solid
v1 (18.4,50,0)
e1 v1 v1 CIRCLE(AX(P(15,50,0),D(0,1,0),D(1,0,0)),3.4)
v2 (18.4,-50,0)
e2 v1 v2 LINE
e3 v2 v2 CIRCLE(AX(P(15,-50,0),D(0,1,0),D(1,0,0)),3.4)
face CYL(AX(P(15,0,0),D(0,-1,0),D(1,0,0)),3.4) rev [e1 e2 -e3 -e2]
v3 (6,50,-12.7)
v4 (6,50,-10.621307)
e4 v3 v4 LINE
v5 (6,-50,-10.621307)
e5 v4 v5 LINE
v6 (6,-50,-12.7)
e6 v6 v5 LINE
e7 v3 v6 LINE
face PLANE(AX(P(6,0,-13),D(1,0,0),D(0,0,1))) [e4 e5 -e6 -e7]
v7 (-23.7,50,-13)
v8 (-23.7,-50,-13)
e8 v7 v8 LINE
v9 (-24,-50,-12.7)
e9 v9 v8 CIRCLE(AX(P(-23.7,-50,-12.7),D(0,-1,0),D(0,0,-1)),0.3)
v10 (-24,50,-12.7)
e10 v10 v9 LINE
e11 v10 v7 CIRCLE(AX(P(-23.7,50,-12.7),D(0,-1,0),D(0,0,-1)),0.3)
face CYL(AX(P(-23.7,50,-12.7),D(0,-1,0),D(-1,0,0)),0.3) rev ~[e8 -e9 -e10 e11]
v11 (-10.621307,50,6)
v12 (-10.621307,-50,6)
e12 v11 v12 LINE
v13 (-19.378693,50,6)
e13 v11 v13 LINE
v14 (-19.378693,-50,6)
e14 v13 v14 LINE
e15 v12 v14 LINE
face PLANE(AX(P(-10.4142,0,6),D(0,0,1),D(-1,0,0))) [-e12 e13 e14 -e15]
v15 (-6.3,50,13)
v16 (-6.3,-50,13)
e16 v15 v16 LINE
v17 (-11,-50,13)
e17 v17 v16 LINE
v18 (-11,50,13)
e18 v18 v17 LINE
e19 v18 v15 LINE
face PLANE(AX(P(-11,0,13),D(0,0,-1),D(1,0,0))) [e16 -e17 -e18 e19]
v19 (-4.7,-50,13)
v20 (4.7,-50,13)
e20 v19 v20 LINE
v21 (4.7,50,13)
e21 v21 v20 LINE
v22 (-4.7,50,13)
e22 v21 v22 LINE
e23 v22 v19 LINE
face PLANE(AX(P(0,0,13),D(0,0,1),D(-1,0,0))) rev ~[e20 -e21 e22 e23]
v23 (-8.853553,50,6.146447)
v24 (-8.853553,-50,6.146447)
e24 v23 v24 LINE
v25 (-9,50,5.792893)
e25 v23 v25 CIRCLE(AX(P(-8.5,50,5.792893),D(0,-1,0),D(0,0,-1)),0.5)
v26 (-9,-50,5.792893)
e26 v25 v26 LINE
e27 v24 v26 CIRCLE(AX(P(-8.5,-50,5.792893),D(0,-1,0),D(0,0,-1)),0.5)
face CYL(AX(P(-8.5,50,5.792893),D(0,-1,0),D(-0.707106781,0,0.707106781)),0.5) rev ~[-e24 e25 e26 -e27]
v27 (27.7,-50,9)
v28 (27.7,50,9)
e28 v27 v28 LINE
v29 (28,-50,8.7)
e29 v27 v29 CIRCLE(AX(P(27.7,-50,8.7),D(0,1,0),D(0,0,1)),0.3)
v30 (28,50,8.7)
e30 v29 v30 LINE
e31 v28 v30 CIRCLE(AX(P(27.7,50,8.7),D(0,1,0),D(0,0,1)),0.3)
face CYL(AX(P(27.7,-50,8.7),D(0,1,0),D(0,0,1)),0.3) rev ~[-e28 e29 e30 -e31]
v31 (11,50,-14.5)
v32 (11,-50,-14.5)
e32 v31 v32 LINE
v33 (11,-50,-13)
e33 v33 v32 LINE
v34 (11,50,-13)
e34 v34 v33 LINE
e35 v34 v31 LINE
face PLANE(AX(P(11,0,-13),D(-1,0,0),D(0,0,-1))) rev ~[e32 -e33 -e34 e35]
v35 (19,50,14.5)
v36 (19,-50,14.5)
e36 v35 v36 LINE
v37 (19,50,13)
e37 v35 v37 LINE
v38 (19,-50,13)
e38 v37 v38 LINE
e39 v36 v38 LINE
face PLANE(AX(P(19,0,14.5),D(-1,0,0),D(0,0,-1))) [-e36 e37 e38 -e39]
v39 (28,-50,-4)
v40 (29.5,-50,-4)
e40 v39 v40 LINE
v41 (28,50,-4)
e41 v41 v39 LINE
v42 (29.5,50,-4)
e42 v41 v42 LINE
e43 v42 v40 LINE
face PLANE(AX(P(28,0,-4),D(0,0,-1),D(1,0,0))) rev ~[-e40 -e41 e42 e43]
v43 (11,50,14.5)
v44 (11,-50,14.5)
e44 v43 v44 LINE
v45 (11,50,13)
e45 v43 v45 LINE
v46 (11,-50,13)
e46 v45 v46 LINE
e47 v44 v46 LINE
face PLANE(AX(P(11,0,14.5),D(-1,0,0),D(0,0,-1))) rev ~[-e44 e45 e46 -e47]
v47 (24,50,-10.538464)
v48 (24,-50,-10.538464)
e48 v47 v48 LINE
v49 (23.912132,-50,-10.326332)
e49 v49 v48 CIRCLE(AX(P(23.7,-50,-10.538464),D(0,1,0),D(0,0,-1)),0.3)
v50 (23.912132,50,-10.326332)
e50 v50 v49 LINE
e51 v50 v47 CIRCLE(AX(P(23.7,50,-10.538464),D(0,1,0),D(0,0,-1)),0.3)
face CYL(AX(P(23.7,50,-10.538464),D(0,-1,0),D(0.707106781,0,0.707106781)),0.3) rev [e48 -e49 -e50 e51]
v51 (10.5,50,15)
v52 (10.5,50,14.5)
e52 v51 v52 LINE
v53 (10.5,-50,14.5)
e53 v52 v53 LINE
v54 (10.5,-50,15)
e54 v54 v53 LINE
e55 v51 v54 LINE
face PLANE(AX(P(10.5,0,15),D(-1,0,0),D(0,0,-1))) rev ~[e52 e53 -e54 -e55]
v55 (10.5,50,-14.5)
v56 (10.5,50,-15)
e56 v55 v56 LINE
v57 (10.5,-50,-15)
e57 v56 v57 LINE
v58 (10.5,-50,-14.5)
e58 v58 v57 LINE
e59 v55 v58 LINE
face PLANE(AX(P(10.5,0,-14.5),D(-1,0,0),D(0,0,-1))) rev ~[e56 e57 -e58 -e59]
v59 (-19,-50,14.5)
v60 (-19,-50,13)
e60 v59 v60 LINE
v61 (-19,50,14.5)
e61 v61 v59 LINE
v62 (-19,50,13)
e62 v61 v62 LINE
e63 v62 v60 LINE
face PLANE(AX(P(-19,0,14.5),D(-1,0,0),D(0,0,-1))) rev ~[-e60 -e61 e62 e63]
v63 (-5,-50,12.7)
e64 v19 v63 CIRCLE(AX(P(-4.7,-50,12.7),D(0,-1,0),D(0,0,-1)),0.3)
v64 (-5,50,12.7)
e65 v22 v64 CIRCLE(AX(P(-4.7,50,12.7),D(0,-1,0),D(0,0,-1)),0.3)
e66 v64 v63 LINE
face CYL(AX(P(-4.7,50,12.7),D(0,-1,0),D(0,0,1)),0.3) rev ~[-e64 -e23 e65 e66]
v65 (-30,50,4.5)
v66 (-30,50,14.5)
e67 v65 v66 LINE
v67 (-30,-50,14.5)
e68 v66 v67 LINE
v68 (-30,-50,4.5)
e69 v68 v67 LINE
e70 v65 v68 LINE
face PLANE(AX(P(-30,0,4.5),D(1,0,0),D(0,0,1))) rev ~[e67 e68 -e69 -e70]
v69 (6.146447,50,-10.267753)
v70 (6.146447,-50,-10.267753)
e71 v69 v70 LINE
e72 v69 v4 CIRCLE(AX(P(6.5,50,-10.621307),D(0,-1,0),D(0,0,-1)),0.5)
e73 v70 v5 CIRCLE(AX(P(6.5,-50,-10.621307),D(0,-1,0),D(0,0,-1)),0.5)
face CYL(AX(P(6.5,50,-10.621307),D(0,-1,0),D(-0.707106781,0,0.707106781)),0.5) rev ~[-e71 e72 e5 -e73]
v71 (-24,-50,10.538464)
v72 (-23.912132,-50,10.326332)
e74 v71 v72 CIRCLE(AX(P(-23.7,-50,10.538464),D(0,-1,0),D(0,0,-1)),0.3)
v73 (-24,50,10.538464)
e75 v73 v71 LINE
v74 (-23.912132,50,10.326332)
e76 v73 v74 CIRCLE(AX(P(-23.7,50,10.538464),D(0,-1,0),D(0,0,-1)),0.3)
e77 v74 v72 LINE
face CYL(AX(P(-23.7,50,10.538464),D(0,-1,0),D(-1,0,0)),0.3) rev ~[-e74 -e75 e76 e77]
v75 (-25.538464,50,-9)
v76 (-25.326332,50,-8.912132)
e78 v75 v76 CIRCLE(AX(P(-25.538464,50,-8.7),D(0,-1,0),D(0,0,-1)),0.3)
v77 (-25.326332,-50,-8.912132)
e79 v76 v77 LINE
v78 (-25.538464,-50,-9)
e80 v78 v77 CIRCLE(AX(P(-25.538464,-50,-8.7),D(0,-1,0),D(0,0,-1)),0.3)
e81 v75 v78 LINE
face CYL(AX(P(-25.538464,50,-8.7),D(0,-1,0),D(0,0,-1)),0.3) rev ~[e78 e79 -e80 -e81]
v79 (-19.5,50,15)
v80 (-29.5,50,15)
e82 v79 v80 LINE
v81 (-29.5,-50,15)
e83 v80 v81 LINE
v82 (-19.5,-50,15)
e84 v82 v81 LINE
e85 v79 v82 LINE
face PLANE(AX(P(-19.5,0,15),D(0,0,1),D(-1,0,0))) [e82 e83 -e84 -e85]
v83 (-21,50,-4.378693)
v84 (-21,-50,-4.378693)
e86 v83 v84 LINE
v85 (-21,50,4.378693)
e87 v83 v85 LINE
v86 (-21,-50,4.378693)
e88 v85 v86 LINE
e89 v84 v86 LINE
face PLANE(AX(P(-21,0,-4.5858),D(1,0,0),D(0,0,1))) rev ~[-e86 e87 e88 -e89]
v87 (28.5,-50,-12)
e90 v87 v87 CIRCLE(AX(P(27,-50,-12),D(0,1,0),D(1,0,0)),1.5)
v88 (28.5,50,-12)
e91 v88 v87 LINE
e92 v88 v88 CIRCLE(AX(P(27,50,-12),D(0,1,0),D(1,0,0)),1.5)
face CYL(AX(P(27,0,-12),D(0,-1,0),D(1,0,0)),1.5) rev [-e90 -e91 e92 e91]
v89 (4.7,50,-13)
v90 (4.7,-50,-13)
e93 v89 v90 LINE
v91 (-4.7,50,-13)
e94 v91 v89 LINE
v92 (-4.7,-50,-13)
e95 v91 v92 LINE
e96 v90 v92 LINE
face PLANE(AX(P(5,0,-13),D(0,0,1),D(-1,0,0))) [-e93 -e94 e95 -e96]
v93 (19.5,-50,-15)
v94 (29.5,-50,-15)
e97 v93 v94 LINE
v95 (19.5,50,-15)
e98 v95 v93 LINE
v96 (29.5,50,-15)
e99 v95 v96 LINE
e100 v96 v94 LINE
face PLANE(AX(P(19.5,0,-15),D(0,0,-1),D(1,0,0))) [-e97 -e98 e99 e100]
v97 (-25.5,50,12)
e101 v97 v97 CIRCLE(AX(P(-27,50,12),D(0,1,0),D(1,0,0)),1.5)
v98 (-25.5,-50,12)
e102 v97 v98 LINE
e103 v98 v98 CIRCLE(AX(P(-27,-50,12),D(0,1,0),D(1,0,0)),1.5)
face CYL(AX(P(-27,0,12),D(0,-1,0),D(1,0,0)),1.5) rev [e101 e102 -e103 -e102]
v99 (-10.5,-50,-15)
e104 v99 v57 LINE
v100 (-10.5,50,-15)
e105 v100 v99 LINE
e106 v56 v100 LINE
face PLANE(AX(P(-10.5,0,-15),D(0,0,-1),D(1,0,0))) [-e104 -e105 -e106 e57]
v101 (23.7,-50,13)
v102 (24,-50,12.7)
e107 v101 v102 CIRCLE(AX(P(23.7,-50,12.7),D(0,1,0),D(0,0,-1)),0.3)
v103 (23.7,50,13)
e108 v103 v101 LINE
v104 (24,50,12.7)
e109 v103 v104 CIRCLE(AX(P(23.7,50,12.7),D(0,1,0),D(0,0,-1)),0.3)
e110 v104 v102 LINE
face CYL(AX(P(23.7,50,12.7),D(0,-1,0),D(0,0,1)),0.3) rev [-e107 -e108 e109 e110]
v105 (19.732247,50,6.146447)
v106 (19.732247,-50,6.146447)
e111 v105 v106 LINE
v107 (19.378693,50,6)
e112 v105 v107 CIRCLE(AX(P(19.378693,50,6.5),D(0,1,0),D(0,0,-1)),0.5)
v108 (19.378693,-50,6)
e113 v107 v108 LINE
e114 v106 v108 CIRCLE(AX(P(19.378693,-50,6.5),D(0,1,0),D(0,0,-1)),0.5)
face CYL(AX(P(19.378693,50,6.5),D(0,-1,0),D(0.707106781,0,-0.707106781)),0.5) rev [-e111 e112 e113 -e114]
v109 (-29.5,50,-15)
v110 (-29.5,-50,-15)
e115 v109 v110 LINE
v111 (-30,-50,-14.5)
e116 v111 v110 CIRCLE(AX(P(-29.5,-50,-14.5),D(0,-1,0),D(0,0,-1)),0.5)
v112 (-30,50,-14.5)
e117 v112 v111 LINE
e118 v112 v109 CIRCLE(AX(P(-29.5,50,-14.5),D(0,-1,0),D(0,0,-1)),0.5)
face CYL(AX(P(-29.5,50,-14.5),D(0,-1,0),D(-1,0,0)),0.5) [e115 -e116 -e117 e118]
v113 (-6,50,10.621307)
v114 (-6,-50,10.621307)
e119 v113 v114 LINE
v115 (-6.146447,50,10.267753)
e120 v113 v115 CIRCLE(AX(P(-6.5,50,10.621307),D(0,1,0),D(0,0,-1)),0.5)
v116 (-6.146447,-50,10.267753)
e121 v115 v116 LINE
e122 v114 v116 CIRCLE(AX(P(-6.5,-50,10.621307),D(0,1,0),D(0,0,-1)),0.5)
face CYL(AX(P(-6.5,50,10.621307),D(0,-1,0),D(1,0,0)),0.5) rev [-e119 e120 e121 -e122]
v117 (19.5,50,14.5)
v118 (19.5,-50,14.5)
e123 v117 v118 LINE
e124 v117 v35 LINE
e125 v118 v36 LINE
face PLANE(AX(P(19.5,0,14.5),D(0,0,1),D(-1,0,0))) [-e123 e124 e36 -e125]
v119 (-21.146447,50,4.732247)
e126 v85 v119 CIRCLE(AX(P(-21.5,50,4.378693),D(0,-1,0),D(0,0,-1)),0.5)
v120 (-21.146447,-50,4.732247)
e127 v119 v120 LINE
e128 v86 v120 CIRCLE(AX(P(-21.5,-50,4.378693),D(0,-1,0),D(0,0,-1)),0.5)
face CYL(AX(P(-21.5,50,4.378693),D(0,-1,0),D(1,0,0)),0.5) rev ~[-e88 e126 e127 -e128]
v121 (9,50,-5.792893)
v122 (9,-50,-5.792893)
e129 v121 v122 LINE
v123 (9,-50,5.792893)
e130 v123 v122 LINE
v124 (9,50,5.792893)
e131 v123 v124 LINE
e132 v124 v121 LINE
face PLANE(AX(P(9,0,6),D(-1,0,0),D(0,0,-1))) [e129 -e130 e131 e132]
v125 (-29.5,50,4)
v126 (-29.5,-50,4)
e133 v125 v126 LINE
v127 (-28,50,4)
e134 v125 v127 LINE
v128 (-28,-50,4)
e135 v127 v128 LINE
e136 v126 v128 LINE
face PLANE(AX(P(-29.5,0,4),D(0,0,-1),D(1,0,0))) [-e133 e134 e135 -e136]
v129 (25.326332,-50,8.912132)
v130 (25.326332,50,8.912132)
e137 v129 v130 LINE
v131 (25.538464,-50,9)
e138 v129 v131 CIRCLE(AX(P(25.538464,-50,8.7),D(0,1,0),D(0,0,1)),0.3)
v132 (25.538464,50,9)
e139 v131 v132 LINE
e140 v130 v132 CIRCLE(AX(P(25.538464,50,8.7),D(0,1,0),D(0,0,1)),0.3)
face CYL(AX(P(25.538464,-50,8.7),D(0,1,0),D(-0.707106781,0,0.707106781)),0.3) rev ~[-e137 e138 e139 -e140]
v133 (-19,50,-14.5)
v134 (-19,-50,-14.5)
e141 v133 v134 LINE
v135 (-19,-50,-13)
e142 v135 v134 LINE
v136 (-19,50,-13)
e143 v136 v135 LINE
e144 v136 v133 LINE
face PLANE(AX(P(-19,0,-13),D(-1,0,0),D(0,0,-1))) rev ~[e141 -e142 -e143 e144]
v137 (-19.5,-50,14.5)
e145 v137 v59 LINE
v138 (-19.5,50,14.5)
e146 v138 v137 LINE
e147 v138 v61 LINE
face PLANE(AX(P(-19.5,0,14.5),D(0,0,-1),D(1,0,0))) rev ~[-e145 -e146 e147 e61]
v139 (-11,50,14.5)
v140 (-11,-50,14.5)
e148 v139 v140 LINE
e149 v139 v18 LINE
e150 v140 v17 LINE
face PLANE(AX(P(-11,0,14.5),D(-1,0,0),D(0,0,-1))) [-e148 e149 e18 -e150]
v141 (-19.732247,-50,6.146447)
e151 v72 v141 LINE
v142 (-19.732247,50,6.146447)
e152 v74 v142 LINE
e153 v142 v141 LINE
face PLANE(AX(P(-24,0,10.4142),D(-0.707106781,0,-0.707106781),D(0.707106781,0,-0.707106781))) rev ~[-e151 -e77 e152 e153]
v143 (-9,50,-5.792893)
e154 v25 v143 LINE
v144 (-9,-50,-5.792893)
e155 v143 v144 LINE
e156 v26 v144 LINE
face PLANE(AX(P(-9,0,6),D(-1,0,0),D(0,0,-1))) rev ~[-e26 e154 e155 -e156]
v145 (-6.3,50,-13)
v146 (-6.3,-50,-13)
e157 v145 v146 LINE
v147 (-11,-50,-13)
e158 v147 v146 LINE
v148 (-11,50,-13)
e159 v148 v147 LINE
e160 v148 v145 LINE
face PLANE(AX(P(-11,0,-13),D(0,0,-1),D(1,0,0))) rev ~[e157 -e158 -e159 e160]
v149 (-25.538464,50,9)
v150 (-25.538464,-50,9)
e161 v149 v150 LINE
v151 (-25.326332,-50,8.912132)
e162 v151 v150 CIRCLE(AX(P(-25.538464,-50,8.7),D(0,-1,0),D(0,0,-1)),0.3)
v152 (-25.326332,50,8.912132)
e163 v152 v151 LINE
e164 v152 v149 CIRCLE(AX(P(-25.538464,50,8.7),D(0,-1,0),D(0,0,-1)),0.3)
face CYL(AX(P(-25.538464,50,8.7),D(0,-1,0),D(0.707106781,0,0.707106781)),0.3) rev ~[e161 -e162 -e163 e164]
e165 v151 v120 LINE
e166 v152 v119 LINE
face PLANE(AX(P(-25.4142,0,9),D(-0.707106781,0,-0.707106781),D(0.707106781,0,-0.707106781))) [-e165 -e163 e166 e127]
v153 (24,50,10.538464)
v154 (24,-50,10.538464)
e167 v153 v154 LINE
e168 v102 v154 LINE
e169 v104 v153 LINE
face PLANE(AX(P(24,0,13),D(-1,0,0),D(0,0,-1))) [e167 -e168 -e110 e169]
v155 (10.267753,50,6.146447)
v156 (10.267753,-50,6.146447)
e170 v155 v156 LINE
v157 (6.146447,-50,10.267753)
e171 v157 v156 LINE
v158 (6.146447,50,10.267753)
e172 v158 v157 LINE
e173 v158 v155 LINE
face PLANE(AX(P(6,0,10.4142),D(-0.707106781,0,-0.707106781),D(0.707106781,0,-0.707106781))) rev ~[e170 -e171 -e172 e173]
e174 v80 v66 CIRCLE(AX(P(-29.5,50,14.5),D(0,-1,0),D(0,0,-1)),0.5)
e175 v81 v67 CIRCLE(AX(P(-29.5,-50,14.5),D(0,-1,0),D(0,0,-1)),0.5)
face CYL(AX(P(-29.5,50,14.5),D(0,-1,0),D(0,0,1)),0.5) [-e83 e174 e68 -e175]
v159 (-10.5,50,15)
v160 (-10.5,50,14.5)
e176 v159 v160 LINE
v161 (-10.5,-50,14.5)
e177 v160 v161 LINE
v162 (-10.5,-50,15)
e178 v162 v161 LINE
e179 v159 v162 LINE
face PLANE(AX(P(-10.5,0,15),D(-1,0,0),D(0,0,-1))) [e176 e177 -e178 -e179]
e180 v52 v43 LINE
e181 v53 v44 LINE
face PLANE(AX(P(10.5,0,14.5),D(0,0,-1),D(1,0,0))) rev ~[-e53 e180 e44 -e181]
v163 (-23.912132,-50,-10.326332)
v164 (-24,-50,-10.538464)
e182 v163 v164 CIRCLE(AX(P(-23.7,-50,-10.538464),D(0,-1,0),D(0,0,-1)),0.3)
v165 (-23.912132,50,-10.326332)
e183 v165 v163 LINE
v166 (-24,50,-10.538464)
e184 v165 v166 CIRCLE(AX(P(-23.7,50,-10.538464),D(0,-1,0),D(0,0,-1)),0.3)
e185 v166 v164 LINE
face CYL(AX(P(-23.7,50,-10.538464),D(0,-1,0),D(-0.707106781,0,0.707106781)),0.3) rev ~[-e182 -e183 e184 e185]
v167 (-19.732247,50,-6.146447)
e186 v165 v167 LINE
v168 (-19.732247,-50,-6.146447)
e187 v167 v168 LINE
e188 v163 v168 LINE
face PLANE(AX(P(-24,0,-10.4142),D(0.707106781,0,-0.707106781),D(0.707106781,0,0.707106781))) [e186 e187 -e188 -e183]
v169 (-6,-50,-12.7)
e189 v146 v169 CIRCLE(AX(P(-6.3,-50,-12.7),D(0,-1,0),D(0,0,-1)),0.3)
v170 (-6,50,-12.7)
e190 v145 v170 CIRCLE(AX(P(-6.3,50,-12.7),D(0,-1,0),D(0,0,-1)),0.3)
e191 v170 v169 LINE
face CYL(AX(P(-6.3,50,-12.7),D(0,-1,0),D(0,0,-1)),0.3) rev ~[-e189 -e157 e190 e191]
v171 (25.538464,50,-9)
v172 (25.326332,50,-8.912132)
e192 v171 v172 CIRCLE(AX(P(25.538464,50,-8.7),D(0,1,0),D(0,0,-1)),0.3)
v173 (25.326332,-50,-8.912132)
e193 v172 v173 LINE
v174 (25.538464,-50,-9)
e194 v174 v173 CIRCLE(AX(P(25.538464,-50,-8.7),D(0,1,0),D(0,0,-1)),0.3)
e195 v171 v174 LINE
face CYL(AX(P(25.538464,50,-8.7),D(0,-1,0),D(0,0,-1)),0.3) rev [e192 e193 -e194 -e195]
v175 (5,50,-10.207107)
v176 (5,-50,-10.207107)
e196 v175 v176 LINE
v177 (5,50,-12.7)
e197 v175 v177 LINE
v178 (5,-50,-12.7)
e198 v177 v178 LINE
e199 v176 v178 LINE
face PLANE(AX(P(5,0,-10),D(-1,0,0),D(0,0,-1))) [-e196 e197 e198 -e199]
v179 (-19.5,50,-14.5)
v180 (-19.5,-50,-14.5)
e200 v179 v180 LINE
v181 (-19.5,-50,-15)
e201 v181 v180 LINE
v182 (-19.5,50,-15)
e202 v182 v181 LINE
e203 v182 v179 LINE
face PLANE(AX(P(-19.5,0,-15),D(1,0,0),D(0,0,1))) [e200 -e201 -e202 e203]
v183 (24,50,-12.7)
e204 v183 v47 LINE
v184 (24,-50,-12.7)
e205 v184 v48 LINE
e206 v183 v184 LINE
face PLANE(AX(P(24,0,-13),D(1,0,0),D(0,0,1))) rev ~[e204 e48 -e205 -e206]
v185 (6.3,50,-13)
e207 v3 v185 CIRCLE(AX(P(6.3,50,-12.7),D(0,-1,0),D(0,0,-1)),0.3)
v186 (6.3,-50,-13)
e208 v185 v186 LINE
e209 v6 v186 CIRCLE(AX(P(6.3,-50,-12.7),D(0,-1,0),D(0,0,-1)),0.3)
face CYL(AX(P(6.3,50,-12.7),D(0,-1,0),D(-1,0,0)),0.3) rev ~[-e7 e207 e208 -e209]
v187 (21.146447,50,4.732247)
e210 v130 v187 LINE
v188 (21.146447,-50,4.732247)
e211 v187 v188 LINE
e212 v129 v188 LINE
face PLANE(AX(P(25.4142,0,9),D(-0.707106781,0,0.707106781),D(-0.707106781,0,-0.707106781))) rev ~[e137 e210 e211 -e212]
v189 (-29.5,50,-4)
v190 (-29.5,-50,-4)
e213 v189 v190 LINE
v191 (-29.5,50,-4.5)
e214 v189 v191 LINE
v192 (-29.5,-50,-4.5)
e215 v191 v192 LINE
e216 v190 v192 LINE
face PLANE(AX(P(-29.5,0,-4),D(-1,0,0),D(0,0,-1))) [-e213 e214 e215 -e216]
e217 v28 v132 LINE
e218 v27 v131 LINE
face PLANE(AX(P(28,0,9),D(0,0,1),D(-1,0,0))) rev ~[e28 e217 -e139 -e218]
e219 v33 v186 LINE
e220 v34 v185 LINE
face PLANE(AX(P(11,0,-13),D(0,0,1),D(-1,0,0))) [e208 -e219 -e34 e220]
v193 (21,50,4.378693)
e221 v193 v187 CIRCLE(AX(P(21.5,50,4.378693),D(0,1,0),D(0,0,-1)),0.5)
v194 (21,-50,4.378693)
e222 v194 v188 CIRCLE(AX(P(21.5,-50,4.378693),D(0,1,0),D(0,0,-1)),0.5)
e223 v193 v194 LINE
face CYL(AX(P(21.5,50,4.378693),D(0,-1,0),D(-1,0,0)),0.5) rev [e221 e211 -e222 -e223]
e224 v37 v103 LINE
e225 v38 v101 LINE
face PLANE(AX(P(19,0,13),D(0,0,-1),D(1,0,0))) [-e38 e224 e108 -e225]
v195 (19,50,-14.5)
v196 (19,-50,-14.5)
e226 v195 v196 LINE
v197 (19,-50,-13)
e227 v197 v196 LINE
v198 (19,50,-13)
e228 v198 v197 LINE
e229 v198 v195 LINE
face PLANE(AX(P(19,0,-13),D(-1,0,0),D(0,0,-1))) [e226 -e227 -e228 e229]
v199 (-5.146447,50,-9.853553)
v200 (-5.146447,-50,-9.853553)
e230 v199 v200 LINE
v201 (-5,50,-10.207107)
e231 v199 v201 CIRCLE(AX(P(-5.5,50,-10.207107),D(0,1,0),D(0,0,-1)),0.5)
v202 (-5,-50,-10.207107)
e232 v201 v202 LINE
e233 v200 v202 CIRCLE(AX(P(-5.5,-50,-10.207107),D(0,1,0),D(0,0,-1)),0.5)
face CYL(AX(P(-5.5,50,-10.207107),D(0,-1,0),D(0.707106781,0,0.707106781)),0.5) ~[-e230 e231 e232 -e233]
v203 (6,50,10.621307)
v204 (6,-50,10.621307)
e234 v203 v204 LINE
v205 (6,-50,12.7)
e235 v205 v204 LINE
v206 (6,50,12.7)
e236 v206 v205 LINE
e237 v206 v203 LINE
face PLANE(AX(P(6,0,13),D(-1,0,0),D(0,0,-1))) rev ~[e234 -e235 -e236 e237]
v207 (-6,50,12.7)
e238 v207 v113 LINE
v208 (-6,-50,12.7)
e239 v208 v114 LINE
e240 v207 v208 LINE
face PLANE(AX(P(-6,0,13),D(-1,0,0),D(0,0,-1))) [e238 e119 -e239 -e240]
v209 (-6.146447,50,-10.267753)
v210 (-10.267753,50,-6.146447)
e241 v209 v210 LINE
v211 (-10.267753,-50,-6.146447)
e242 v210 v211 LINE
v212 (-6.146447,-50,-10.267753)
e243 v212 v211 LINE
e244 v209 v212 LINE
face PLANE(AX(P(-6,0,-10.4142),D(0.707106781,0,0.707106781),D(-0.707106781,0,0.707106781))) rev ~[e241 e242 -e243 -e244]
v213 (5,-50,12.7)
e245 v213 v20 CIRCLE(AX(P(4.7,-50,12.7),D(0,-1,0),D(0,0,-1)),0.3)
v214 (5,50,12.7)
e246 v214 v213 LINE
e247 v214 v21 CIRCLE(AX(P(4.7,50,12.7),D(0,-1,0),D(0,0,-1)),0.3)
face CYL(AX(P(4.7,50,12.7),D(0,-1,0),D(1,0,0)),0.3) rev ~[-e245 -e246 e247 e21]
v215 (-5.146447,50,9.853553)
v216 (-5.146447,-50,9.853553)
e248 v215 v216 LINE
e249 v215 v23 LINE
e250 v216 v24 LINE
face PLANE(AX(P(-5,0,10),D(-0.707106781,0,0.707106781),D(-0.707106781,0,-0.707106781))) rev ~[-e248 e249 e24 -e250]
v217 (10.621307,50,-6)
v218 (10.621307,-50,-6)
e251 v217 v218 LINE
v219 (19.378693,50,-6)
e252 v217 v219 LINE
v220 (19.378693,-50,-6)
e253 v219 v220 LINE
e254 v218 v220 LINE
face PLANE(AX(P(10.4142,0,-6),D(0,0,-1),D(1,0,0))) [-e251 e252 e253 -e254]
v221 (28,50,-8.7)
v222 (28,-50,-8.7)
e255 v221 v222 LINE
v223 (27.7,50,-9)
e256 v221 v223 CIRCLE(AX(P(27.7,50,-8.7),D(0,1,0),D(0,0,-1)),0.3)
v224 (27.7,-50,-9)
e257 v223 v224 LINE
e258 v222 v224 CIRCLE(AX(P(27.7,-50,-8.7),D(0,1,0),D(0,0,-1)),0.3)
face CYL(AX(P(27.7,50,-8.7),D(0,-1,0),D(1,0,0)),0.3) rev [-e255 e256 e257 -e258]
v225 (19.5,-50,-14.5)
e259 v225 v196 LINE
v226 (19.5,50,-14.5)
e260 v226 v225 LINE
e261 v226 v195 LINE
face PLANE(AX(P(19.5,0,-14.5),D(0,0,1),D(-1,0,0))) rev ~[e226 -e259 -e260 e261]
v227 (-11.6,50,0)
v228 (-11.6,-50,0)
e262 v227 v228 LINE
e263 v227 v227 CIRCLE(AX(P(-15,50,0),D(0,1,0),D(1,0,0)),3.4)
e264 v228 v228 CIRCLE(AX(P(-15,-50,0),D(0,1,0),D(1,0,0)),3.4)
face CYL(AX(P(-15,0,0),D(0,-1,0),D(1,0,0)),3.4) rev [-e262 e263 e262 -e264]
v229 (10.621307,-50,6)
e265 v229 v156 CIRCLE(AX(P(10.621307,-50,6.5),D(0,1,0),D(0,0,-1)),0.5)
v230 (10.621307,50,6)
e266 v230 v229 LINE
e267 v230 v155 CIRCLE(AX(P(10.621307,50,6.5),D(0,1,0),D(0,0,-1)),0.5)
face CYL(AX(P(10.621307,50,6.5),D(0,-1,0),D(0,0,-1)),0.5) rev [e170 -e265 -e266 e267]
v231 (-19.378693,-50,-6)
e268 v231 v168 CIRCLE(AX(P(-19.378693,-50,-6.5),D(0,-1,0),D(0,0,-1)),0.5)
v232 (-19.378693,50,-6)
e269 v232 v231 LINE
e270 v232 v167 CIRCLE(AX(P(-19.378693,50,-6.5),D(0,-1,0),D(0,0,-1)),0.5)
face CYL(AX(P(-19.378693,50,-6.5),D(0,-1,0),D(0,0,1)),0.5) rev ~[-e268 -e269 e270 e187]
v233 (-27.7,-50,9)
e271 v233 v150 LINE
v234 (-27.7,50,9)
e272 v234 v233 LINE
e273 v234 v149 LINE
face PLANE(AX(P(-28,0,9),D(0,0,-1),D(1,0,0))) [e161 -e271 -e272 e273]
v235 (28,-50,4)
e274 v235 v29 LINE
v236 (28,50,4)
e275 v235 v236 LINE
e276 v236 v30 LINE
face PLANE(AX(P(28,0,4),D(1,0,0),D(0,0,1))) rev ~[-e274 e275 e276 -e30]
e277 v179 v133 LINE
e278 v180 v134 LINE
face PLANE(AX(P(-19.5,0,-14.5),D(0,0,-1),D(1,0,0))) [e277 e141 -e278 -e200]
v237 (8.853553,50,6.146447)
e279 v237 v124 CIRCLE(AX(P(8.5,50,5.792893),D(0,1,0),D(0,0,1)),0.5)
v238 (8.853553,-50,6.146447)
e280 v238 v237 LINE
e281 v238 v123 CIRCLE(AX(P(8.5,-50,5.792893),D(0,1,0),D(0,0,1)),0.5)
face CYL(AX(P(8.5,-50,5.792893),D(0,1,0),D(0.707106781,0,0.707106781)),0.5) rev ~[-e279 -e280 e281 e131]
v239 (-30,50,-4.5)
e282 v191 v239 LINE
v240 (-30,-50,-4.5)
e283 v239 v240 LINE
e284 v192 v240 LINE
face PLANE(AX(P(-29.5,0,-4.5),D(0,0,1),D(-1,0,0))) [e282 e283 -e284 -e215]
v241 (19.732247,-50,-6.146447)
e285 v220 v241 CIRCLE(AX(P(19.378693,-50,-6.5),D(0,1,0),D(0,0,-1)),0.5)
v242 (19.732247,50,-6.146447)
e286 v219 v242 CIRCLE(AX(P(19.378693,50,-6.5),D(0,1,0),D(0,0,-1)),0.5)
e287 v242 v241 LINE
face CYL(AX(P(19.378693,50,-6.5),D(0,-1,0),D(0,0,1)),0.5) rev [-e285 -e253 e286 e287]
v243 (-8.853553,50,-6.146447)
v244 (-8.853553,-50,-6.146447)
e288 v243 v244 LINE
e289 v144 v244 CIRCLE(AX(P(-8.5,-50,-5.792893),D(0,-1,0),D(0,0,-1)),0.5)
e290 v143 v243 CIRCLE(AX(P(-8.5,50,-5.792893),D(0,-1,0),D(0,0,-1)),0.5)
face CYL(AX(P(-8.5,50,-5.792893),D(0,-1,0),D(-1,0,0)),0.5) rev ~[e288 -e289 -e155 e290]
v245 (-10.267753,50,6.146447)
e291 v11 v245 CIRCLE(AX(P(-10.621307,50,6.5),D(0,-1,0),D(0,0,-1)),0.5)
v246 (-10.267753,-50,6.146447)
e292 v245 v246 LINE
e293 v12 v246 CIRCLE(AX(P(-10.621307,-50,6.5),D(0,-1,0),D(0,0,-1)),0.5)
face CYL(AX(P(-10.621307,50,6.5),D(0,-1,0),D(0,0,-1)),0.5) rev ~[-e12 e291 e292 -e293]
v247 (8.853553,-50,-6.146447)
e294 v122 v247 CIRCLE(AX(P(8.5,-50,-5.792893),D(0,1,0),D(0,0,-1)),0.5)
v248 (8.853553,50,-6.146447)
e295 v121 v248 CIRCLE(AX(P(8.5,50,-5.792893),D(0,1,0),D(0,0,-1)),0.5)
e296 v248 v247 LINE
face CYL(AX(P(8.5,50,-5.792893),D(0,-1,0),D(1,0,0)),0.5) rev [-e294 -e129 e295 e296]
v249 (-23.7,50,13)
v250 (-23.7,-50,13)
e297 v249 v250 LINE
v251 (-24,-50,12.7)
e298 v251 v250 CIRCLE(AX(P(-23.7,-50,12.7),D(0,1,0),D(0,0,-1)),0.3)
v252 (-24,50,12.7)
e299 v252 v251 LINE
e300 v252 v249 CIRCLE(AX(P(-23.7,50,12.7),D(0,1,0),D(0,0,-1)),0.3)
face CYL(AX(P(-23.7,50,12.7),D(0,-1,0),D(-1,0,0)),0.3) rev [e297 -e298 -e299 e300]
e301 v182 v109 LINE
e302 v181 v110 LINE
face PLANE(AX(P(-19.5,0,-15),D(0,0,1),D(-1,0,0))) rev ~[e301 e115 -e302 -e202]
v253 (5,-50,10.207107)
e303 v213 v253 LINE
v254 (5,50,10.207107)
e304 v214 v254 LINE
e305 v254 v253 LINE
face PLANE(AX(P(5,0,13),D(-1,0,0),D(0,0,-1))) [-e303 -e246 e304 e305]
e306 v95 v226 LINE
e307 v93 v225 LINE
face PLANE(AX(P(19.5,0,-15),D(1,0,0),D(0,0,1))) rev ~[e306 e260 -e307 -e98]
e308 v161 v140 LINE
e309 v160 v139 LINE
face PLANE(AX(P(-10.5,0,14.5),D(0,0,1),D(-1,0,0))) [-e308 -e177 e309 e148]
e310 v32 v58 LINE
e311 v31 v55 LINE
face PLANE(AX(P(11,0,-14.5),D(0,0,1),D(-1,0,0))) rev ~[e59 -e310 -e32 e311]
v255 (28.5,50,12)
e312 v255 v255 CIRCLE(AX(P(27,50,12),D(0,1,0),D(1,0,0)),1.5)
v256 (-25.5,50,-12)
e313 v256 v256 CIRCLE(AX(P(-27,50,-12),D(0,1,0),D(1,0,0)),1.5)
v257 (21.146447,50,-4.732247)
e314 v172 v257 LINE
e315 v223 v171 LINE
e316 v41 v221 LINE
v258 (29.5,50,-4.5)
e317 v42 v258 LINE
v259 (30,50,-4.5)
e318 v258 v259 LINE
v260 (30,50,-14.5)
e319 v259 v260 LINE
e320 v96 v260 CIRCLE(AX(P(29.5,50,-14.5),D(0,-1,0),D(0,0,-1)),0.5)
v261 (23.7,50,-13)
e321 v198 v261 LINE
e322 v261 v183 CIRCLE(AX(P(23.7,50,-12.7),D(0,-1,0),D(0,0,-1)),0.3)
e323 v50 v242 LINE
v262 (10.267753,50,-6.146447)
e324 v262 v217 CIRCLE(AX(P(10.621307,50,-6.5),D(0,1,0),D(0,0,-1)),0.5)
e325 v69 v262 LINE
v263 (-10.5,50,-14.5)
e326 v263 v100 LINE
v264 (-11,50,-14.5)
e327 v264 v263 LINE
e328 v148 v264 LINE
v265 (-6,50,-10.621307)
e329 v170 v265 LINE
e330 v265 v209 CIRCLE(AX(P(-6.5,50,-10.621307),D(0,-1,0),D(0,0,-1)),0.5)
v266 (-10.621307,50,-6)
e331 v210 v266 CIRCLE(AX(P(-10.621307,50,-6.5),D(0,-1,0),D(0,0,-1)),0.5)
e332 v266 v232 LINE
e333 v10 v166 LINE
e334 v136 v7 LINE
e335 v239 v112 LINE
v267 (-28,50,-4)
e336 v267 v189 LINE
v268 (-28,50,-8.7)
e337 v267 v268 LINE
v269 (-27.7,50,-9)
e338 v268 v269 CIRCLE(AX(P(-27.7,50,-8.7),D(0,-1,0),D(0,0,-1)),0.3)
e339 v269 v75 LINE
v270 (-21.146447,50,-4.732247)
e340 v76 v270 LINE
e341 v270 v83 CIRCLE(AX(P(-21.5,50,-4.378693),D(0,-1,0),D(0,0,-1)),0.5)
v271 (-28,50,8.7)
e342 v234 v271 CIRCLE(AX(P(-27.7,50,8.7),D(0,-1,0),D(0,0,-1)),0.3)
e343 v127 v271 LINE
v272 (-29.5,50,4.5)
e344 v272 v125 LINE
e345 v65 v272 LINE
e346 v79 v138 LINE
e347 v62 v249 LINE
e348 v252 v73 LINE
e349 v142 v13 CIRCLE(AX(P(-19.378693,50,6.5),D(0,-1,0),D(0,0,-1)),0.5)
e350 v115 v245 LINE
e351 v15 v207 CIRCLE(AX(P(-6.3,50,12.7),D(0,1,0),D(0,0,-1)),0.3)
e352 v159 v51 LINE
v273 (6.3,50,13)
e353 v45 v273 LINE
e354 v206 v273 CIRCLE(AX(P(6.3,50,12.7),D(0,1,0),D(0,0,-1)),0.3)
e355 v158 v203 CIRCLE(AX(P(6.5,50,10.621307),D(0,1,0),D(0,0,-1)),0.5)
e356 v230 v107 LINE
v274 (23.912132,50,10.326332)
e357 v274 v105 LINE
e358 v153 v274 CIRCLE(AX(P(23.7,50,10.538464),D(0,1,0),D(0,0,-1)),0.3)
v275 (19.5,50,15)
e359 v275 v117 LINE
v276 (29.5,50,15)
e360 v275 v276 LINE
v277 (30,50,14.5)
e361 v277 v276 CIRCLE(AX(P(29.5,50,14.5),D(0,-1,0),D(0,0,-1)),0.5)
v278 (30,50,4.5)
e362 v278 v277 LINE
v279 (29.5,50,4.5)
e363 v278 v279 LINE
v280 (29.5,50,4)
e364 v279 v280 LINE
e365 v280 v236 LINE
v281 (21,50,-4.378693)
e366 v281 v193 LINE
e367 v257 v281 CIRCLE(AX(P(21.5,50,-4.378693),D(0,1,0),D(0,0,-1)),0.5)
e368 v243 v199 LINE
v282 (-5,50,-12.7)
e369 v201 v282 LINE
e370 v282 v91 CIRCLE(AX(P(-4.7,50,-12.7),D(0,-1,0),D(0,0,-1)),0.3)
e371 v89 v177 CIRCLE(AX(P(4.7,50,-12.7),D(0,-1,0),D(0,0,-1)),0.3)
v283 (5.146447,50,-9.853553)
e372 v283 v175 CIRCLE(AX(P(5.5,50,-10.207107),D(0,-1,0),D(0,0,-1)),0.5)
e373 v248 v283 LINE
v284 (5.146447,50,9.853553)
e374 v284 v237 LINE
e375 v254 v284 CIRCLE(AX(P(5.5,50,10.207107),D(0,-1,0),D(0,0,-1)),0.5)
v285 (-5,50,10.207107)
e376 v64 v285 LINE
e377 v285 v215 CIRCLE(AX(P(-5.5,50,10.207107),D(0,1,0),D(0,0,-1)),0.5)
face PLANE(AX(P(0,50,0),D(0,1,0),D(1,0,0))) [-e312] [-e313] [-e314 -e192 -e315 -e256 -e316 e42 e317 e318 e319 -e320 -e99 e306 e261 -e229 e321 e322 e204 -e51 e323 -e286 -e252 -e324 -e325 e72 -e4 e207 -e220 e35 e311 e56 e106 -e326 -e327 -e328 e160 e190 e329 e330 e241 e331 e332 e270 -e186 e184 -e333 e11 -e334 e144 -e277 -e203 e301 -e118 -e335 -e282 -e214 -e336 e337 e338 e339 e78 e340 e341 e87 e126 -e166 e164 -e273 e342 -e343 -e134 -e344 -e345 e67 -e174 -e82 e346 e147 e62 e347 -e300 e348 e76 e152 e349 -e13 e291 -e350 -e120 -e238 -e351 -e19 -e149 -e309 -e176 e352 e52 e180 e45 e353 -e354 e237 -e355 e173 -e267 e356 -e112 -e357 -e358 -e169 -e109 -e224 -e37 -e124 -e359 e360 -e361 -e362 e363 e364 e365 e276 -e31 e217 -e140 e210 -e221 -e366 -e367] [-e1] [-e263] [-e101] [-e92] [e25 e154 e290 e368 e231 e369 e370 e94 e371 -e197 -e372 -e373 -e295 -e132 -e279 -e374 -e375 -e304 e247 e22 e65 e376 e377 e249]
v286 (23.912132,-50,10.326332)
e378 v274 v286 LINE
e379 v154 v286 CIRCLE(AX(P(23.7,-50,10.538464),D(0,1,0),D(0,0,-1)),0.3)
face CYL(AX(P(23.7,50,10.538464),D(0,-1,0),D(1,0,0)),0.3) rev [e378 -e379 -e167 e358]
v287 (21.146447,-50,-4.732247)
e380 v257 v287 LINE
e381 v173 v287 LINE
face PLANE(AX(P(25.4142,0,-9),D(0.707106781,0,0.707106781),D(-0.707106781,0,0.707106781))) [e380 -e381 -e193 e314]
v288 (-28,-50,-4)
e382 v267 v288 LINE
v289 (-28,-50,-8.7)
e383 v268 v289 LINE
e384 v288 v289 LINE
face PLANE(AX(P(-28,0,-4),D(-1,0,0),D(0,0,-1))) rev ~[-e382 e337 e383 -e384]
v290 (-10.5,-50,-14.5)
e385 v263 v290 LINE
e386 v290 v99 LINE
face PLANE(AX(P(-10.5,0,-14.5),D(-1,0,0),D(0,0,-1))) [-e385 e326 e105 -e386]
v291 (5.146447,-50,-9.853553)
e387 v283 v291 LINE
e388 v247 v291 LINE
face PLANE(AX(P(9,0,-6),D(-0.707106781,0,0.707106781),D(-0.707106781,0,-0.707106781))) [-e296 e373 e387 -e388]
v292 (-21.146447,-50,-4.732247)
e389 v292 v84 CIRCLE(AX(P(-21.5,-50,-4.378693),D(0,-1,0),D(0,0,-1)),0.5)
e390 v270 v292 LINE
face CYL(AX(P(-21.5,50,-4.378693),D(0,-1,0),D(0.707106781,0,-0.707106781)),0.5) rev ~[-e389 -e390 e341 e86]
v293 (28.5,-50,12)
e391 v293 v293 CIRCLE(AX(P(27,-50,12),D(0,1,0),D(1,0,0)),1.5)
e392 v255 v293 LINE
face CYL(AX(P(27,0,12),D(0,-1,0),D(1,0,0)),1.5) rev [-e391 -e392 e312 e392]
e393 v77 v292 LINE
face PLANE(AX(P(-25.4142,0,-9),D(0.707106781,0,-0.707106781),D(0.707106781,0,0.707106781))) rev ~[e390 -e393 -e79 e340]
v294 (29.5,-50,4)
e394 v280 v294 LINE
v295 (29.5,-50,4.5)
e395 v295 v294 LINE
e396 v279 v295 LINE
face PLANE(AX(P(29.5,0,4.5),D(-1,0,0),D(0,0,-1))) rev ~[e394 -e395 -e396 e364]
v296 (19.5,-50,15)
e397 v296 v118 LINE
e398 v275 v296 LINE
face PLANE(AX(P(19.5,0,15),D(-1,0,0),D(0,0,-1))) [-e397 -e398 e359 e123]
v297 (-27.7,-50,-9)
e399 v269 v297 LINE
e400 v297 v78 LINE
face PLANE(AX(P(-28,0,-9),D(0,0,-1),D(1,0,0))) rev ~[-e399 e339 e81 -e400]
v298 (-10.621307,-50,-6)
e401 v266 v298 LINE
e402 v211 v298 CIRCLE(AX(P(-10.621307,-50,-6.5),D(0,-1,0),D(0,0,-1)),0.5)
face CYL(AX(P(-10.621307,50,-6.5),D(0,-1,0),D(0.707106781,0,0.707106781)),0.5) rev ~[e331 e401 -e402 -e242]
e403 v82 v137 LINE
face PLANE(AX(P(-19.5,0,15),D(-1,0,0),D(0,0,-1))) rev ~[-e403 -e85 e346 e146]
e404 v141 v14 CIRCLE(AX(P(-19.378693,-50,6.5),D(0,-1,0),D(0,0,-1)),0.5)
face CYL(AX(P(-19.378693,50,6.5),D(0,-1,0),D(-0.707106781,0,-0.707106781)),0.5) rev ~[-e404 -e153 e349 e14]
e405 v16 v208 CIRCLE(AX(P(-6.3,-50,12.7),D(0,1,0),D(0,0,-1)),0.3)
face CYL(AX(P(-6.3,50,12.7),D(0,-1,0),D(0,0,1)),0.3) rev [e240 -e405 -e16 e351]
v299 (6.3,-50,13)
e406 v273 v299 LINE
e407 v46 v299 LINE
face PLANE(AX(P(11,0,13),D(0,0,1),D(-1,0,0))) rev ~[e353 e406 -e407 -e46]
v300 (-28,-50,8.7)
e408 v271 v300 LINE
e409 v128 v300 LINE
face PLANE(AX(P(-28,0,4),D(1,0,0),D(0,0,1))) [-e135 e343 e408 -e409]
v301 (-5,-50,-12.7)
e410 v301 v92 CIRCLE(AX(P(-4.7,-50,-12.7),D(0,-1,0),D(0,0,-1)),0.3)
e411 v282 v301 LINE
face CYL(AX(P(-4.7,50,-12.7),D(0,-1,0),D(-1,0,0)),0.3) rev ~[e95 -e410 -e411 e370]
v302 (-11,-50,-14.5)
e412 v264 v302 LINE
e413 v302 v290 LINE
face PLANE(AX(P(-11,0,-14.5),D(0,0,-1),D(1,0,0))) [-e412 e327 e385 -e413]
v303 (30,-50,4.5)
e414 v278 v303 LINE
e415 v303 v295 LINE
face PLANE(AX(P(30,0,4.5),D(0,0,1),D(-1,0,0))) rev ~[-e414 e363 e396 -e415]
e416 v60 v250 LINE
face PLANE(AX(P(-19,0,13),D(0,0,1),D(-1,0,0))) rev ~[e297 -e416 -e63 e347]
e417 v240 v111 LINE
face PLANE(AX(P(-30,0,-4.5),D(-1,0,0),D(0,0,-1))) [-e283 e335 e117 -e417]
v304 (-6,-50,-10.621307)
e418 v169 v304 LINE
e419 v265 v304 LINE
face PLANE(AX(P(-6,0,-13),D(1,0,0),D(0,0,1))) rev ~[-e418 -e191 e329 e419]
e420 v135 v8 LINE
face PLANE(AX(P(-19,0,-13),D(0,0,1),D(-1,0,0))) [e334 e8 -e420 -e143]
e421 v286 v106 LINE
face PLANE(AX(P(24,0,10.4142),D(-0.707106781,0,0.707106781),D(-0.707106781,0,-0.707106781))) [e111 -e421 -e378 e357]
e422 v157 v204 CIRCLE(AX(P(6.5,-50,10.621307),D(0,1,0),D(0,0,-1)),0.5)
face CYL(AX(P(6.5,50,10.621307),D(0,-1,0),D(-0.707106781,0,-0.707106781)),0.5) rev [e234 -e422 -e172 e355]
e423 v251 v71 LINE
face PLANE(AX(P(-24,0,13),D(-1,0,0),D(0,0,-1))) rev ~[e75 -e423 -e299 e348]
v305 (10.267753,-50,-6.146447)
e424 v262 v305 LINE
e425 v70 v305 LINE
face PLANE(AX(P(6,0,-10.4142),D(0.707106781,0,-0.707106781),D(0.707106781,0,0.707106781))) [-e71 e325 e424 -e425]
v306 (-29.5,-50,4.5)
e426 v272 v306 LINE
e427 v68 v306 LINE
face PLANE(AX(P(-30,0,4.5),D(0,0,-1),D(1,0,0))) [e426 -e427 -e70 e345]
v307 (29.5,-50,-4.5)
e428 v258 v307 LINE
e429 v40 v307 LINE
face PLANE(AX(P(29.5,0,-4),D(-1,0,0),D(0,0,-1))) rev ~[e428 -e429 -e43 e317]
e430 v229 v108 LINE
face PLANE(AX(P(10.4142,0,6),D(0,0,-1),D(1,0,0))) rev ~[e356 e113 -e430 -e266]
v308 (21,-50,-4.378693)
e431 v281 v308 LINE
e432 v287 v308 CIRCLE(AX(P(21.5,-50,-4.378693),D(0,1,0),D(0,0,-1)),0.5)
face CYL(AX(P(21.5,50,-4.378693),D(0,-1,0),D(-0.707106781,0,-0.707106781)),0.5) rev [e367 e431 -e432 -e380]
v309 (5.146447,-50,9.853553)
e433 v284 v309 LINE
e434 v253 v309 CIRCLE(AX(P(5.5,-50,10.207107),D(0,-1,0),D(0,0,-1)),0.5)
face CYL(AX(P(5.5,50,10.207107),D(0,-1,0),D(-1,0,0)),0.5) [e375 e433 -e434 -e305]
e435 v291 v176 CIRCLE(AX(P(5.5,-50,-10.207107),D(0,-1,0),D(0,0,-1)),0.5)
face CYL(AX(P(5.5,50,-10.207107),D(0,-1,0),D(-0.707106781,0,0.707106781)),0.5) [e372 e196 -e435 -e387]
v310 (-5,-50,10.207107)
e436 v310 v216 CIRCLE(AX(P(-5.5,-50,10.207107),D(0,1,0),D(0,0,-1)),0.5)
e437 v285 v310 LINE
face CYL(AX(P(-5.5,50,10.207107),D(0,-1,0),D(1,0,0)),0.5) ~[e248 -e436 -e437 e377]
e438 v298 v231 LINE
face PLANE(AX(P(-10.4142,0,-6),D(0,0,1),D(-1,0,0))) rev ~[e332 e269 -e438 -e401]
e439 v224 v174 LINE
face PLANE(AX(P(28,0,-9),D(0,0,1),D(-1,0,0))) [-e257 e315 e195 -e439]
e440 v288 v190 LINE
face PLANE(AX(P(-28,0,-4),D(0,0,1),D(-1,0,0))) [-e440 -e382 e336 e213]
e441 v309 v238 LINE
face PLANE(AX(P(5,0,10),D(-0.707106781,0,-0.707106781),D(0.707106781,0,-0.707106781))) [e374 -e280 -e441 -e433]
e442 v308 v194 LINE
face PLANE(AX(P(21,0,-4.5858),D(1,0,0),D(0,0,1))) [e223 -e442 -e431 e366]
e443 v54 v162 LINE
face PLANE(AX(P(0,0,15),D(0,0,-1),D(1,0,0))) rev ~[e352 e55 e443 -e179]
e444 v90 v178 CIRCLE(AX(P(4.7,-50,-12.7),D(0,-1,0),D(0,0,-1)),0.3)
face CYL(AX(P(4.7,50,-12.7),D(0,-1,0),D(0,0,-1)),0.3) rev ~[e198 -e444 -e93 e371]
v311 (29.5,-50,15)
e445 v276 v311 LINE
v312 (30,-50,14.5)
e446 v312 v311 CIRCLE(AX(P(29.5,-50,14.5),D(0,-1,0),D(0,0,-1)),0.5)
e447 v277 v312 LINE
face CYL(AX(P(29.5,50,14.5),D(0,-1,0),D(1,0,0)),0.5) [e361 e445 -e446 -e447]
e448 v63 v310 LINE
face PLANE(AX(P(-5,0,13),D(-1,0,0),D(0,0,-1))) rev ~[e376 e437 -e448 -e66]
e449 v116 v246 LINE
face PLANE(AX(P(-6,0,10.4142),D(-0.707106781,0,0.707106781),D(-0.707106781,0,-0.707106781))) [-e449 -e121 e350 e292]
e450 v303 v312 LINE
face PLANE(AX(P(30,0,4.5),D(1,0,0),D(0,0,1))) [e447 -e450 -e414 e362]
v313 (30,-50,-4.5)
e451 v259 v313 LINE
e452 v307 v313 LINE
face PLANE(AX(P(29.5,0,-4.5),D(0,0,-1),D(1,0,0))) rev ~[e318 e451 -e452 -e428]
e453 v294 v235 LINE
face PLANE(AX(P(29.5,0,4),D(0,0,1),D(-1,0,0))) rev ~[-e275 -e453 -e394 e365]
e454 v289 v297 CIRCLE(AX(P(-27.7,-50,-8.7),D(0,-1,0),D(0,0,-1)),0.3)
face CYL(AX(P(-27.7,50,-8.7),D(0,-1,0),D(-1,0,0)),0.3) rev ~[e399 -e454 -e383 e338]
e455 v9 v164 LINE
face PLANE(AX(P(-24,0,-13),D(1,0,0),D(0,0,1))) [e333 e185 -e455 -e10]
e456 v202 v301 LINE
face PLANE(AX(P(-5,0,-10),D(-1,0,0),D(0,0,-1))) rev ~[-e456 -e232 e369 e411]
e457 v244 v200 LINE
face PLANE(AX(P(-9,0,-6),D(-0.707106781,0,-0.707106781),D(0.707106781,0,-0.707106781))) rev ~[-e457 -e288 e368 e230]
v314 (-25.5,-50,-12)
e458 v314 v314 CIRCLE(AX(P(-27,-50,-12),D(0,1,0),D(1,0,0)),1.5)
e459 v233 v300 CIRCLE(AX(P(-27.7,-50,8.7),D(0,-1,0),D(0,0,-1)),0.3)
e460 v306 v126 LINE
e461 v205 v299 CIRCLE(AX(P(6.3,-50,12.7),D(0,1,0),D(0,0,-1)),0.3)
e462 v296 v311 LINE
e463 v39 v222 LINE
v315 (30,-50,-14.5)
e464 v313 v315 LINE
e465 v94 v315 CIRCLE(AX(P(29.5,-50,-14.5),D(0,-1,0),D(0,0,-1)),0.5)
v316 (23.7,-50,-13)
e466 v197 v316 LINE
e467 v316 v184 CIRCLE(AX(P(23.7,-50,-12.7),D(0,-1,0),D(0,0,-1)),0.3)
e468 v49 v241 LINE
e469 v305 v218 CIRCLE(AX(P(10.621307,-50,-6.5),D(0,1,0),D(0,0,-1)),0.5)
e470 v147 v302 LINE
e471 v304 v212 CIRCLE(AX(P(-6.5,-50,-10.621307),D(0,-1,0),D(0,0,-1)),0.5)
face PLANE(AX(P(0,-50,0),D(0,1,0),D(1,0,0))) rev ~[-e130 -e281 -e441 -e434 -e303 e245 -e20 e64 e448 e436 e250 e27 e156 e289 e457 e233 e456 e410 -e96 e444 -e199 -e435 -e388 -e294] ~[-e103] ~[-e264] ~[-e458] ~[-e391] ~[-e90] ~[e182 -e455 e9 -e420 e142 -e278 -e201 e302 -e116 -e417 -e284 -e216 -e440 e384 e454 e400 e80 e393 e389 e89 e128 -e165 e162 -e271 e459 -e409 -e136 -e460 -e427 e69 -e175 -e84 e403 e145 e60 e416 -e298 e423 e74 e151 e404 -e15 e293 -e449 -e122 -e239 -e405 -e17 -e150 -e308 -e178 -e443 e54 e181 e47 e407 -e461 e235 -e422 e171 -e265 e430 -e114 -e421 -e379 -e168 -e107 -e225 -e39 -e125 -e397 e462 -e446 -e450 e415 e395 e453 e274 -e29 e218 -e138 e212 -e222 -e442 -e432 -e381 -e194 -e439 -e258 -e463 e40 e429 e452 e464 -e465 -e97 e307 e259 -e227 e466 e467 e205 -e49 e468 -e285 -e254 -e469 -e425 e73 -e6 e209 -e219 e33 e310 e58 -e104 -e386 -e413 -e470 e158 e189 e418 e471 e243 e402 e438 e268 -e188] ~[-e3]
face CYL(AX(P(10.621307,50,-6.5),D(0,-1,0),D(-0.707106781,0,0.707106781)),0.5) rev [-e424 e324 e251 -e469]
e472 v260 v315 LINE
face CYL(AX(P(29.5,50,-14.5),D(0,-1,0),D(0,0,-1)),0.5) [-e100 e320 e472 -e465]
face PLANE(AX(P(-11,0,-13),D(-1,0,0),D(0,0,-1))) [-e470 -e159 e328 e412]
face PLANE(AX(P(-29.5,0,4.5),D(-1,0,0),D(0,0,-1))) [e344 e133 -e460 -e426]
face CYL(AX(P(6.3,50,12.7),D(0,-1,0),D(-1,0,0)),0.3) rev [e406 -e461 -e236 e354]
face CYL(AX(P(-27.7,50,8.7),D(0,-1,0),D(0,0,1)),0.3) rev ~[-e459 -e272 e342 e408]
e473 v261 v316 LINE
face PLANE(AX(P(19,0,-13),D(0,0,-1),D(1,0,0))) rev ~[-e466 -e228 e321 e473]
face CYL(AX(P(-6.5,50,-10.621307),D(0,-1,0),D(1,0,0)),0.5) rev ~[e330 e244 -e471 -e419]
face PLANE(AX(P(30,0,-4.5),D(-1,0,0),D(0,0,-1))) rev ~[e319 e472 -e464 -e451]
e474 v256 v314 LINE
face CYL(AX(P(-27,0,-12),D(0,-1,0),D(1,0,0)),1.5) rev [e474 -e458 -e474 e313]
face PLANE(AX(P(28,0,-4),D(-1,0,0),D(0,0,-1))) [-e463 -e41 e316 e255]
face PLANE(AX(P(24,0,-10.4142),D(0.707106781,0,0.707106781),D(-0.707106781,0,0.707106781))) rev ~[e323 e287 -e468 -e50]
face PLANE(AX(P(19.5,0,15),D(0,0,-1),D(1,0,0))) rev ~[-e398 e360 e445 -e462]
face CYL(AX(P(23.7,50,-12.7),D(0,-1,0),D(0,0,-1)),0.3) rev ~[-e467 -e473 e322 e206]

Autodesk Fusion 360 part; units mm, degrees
sketch "Sketch1" plane through (0, 0, 0) normal (0, 1, 0) x (1, 0, 0)
  circle A0 centre (15, 0) radius 3.4
  line L0 (9, -6) -> (9, 6)
  line L1 (28, -4) -> (28, -9)
  line L2 (28, -9) -> (25.4142, -9)
  line L3 (19, -13) -> (24, -13)
  line L4 (24, -13) -> (24, -10.4142)
  line L5 (25.4142, -9) -> (21, -4.5858)
  line L6 (24, -10.4142) -> (19.5858, -6)
  line L7 (28, 4) -> (28, 9)
  line L8 (28, 9) -> (25.4142, 9)
  line L9 (19, 13) -> (24, 13)
  line L10 (24, 13) -> (24, 10.4142)
  line L11 (24, 10.4142) -> (19.5858, 6)
  line L12 (25.4142, 9) -> (21, 4.5858)
  line L13 (11, -13) -> (6, -13)
  line L14 (6, -13) -> (6, -10.4142)
  line L15 (11, 13) -> (6, 13)
  line L16 (6, 13) -> (6, 10.4142)
  line L17 (6, 10.4142) -> (10.4142, 6)
  line L18 (6, -10.4142) -> (10.4142, -6)
  line L19 (0, -13) -> (5, -13)
  line L20 (5, -13) -> (5, -10)
  line L21 (5, -10) -> (9, -6)
  line L22 (9, 6) -> (5, 10)
  line L23 (5, 10) -> (5, 13)
  line L24 (5, 13) -> (0, 13)
  line L25 (10.4142, -6) -> (19.5858, -6)
  line L26 (10.4142, 6) -> (19.5858, 6)
  line L27 (21, 4.5858) -> (21, -4.5858)
  line L28 (10.5, -15) -> (10.5, -14.5)
  line L29 (10.5, -14.5) -> (11, -14.5)
  line L30 (19.5, -15) -> (19.5, -14.5)
  line L31 (19.5, -14.5) -> (19, -14.5)
  line L32 (30, -4.5) -> (29.5, -4.5)
  line L33 (29.5, -4.5) -> (29.5, -4)
  line L34 (29.5, 4) -> (29.5, 4.5)
  line L35 (29.5, 4.5) -> (30, 4.5)
  line L36 (19.5, 15) -> (19.5, 14.5)
  line L37 (19.5, 14.5) -> (19, 14.5)
  line L38 (11, 14.5) -> (10.5, 14.5)
  line L39 (10.5, 14.5) -> (10.5, 15)
  line L40 (19.5, 15) -> (30, 15)
  line L41 (30, 4.5) -> (30, 15)
  line L42 (19, 13) -> (19, 14.5)
  line L43 (28, 4) -> (29.5, 4)
  line L44 (11, 13) -> (11, 14.5)
  line L45 (29.5, -4) -> (28, -4)
  line L46 (30, -4.5) -> (30, -15)
  line L47 (19.5, -15) -> (30, -15)
  line L48 (19, -14.5) -> (19, -13)
  line L49 (11, -14.5) -> (11, -13)
  circle A1 centre (27, -12) radius 1.5
  circle A2 centre (27, 12) radius 1.5
  line L50 (-28, 4) -> (-28, 9)
  line L51 (-19.5, 15) -> (-30, 15)
  line L52 (-28, 9) -> (-25.4142, 9)
  line L53 (-19, 13) -> (-24, 13)
  line L54 (-5, 13) -> (0, 13)
  line L55 (0, -13) -> (-5, -13)
  line L56 (-29.5, -4) -> (-28, -4)
  line L57 (-19, -13) -> (-24, -13)
  line L58 (-29.5, -4.5) -> (-29.5, -4)
  line L59 (-19.5, -15) -> (-30, -15)
  circle A3 centre (-27, -12) radius 1.5
  circle A4 centre (-27, 12) radius 1.5
  line L60 (-5, 10) -> (-5, 13)
  line L61 (-28, -4) -> (-28, -9)
  line L62 (-6, -13) -> (-6, -10.4142)
  line L63 (-28, -9) -> (-25.4142, -9)
  line L64 (-30, 4.5) -> (-30, 15)
  line L65 (-30, -4.5) -> (-29.5, -4.5)
  line L66 (-29.5, 4.5) -> (-30, 4.5)
  line L67 (-30, -4.5) -> (-30, -15)
  line L68 (-10.4142, -6) -> (-19.5858, -6)
  line L69 (-10.5, -14.5) -> (-11, -14.5)
  line L70 (-19.5, -15) -> (-19.5, -14.5)
  line L71 (-11, -14.5) -> (-11, -13)
  line L72 (-6, 10.4142) -> (-10.4142, 6)
  line L73 (-19.5, -14.5) -> (-19, -14.5)
  line L74 (-10.5, -15) -> (-10.5, -14.5)
  line L75 (-11, 13) -> (-11, 14.5)
  line L76 (-10.5, 14.5) -> (-10.5, 15)
  line L77 (-28, 4) -> (-29.5, 4)
  line L78 (-6, 13) -> (-6, 10.4142)
  line L79 (-11, 14.5) -> (-10.5, 14.5)
  line L80 (-24, -13) -> (-24, -10.4142)
  line L81 (-5, -13) -> (-5, -10)
  line L82 (-6, -10.4142) -> (-10.4142, -6)
  line L83 (-11, -13) -> (-6, -13)
  line L84 (-19.5, 14.5) -> (-19, 14.5)
  line L85 (-19, -14.5) -> (-19, -13)
  line L86 (-24, 13) -> (-24, 10.4142)
  line L87 (-5, -10) -> (-9, -6)
  line L88 (-29.5, 4) -> (-29.5, 4.5)
  line L89 (-11, 13) -> (-6, 13)
  line L90 (-24, 10.4142) -> (-19.5858, 6)
  line L91 (-10.4142, 6) -> (-19.5858, 6)
  line L92 (-21, 4.5858) -> (-21, -4.5858)
  circle A5 centre (-15, 0) radius 3.4
  line L93 (-9, -6) -> (-9, 6)
  line L94 (-9, 6) -> (-5, 10)
  line L95 (-24, -10.4142) -> (-19.5858, -6)
  line L96 (-19.5, 15) -> (-19.5, 14.5)
  line L97 (-19, 13) -> (-19, 14.5)
  line L98 (-25.4142, -9) -> (-21, -4.5858)
  line L99 (-25.4142, 9) -> (-21, 4.5858)
  line L100 (-10.5, 15) -> (0, 15)
  line L101 (0, 15) -> (10.5, 15)
  line L102 (-10.5, -15) -> (0, -15)
  line L103 (0, -15) -> (10.5, -15)
  dimension "d4" = 6.8
  dimension "d19" = 8
  dimension "d20" = 30
  dimension "d21" = 3
  dimension "d22" = 12
  dimension "d35" = 18
  dimension "d36" = 7
  dimension "d37" = 2
extrude "Extrude1" add sketch "Sketch1" along normal mid plane 100
fillet "Fillet1" radius 0.5 4 edges at (-30, 0, 15) (30, 0, 15) (30, 0, -15) (-30, 0, -15)
fillet "Fillet2" radius 0.3 16 edges at (-24, 0, 13) (-28, 0, 9) (-5, 0, 13) (6, 0, 13) (-6, 0, 13) (24, 0, 13) (28, 0, 9) (5, 0, 13) (-28, 0, -9) (-24, 0, -13) (-5, 0, -13) (6, 0, -13) (-6, 0, -13) (5, 0, -13) (24, 0, -13) (28, 0, -9)
fillet "Fillet3" radius 0.5 8 edges at (5, 0, -10) (-5, 0, -10) (-5, 0, 10) (5, 0, 10) (6, 0, 10.4142) (-6, 0, 10.4142) (-6, 0, -10.4142) (6, 0, -10.4142)
fillet "Fillet4" radius 0.5 16 edges at (-10.4142, 0, -6) (19.5858, 0, -6) (10.4142, 0, -6) (-19.5858, 0, -6) (-9, 0, -6) (-9, 0, 6) (21, 0, 4.5858) (21, 0, -4.5858) (9, 0, -6) (9, 0, 6) (-21, 0, 4.5858) (-21, 0, -4.5858) (-10.4142, 0, 6) (19.5858, 0, 6) (10.4142, 0, 6) (-19.5858, 0, 6)
fillet "Fillet5" radius 0.3 8 edges at (24, 0, 10.4142) (25.4142, 0, 9) (25.4142, 0, -9) (-25.4142, 0, -9) (24, 0, -10.4142) (-24, 0, -10.4142) (-24, 0, 10.4142) (-25.4142, 0, 9)
